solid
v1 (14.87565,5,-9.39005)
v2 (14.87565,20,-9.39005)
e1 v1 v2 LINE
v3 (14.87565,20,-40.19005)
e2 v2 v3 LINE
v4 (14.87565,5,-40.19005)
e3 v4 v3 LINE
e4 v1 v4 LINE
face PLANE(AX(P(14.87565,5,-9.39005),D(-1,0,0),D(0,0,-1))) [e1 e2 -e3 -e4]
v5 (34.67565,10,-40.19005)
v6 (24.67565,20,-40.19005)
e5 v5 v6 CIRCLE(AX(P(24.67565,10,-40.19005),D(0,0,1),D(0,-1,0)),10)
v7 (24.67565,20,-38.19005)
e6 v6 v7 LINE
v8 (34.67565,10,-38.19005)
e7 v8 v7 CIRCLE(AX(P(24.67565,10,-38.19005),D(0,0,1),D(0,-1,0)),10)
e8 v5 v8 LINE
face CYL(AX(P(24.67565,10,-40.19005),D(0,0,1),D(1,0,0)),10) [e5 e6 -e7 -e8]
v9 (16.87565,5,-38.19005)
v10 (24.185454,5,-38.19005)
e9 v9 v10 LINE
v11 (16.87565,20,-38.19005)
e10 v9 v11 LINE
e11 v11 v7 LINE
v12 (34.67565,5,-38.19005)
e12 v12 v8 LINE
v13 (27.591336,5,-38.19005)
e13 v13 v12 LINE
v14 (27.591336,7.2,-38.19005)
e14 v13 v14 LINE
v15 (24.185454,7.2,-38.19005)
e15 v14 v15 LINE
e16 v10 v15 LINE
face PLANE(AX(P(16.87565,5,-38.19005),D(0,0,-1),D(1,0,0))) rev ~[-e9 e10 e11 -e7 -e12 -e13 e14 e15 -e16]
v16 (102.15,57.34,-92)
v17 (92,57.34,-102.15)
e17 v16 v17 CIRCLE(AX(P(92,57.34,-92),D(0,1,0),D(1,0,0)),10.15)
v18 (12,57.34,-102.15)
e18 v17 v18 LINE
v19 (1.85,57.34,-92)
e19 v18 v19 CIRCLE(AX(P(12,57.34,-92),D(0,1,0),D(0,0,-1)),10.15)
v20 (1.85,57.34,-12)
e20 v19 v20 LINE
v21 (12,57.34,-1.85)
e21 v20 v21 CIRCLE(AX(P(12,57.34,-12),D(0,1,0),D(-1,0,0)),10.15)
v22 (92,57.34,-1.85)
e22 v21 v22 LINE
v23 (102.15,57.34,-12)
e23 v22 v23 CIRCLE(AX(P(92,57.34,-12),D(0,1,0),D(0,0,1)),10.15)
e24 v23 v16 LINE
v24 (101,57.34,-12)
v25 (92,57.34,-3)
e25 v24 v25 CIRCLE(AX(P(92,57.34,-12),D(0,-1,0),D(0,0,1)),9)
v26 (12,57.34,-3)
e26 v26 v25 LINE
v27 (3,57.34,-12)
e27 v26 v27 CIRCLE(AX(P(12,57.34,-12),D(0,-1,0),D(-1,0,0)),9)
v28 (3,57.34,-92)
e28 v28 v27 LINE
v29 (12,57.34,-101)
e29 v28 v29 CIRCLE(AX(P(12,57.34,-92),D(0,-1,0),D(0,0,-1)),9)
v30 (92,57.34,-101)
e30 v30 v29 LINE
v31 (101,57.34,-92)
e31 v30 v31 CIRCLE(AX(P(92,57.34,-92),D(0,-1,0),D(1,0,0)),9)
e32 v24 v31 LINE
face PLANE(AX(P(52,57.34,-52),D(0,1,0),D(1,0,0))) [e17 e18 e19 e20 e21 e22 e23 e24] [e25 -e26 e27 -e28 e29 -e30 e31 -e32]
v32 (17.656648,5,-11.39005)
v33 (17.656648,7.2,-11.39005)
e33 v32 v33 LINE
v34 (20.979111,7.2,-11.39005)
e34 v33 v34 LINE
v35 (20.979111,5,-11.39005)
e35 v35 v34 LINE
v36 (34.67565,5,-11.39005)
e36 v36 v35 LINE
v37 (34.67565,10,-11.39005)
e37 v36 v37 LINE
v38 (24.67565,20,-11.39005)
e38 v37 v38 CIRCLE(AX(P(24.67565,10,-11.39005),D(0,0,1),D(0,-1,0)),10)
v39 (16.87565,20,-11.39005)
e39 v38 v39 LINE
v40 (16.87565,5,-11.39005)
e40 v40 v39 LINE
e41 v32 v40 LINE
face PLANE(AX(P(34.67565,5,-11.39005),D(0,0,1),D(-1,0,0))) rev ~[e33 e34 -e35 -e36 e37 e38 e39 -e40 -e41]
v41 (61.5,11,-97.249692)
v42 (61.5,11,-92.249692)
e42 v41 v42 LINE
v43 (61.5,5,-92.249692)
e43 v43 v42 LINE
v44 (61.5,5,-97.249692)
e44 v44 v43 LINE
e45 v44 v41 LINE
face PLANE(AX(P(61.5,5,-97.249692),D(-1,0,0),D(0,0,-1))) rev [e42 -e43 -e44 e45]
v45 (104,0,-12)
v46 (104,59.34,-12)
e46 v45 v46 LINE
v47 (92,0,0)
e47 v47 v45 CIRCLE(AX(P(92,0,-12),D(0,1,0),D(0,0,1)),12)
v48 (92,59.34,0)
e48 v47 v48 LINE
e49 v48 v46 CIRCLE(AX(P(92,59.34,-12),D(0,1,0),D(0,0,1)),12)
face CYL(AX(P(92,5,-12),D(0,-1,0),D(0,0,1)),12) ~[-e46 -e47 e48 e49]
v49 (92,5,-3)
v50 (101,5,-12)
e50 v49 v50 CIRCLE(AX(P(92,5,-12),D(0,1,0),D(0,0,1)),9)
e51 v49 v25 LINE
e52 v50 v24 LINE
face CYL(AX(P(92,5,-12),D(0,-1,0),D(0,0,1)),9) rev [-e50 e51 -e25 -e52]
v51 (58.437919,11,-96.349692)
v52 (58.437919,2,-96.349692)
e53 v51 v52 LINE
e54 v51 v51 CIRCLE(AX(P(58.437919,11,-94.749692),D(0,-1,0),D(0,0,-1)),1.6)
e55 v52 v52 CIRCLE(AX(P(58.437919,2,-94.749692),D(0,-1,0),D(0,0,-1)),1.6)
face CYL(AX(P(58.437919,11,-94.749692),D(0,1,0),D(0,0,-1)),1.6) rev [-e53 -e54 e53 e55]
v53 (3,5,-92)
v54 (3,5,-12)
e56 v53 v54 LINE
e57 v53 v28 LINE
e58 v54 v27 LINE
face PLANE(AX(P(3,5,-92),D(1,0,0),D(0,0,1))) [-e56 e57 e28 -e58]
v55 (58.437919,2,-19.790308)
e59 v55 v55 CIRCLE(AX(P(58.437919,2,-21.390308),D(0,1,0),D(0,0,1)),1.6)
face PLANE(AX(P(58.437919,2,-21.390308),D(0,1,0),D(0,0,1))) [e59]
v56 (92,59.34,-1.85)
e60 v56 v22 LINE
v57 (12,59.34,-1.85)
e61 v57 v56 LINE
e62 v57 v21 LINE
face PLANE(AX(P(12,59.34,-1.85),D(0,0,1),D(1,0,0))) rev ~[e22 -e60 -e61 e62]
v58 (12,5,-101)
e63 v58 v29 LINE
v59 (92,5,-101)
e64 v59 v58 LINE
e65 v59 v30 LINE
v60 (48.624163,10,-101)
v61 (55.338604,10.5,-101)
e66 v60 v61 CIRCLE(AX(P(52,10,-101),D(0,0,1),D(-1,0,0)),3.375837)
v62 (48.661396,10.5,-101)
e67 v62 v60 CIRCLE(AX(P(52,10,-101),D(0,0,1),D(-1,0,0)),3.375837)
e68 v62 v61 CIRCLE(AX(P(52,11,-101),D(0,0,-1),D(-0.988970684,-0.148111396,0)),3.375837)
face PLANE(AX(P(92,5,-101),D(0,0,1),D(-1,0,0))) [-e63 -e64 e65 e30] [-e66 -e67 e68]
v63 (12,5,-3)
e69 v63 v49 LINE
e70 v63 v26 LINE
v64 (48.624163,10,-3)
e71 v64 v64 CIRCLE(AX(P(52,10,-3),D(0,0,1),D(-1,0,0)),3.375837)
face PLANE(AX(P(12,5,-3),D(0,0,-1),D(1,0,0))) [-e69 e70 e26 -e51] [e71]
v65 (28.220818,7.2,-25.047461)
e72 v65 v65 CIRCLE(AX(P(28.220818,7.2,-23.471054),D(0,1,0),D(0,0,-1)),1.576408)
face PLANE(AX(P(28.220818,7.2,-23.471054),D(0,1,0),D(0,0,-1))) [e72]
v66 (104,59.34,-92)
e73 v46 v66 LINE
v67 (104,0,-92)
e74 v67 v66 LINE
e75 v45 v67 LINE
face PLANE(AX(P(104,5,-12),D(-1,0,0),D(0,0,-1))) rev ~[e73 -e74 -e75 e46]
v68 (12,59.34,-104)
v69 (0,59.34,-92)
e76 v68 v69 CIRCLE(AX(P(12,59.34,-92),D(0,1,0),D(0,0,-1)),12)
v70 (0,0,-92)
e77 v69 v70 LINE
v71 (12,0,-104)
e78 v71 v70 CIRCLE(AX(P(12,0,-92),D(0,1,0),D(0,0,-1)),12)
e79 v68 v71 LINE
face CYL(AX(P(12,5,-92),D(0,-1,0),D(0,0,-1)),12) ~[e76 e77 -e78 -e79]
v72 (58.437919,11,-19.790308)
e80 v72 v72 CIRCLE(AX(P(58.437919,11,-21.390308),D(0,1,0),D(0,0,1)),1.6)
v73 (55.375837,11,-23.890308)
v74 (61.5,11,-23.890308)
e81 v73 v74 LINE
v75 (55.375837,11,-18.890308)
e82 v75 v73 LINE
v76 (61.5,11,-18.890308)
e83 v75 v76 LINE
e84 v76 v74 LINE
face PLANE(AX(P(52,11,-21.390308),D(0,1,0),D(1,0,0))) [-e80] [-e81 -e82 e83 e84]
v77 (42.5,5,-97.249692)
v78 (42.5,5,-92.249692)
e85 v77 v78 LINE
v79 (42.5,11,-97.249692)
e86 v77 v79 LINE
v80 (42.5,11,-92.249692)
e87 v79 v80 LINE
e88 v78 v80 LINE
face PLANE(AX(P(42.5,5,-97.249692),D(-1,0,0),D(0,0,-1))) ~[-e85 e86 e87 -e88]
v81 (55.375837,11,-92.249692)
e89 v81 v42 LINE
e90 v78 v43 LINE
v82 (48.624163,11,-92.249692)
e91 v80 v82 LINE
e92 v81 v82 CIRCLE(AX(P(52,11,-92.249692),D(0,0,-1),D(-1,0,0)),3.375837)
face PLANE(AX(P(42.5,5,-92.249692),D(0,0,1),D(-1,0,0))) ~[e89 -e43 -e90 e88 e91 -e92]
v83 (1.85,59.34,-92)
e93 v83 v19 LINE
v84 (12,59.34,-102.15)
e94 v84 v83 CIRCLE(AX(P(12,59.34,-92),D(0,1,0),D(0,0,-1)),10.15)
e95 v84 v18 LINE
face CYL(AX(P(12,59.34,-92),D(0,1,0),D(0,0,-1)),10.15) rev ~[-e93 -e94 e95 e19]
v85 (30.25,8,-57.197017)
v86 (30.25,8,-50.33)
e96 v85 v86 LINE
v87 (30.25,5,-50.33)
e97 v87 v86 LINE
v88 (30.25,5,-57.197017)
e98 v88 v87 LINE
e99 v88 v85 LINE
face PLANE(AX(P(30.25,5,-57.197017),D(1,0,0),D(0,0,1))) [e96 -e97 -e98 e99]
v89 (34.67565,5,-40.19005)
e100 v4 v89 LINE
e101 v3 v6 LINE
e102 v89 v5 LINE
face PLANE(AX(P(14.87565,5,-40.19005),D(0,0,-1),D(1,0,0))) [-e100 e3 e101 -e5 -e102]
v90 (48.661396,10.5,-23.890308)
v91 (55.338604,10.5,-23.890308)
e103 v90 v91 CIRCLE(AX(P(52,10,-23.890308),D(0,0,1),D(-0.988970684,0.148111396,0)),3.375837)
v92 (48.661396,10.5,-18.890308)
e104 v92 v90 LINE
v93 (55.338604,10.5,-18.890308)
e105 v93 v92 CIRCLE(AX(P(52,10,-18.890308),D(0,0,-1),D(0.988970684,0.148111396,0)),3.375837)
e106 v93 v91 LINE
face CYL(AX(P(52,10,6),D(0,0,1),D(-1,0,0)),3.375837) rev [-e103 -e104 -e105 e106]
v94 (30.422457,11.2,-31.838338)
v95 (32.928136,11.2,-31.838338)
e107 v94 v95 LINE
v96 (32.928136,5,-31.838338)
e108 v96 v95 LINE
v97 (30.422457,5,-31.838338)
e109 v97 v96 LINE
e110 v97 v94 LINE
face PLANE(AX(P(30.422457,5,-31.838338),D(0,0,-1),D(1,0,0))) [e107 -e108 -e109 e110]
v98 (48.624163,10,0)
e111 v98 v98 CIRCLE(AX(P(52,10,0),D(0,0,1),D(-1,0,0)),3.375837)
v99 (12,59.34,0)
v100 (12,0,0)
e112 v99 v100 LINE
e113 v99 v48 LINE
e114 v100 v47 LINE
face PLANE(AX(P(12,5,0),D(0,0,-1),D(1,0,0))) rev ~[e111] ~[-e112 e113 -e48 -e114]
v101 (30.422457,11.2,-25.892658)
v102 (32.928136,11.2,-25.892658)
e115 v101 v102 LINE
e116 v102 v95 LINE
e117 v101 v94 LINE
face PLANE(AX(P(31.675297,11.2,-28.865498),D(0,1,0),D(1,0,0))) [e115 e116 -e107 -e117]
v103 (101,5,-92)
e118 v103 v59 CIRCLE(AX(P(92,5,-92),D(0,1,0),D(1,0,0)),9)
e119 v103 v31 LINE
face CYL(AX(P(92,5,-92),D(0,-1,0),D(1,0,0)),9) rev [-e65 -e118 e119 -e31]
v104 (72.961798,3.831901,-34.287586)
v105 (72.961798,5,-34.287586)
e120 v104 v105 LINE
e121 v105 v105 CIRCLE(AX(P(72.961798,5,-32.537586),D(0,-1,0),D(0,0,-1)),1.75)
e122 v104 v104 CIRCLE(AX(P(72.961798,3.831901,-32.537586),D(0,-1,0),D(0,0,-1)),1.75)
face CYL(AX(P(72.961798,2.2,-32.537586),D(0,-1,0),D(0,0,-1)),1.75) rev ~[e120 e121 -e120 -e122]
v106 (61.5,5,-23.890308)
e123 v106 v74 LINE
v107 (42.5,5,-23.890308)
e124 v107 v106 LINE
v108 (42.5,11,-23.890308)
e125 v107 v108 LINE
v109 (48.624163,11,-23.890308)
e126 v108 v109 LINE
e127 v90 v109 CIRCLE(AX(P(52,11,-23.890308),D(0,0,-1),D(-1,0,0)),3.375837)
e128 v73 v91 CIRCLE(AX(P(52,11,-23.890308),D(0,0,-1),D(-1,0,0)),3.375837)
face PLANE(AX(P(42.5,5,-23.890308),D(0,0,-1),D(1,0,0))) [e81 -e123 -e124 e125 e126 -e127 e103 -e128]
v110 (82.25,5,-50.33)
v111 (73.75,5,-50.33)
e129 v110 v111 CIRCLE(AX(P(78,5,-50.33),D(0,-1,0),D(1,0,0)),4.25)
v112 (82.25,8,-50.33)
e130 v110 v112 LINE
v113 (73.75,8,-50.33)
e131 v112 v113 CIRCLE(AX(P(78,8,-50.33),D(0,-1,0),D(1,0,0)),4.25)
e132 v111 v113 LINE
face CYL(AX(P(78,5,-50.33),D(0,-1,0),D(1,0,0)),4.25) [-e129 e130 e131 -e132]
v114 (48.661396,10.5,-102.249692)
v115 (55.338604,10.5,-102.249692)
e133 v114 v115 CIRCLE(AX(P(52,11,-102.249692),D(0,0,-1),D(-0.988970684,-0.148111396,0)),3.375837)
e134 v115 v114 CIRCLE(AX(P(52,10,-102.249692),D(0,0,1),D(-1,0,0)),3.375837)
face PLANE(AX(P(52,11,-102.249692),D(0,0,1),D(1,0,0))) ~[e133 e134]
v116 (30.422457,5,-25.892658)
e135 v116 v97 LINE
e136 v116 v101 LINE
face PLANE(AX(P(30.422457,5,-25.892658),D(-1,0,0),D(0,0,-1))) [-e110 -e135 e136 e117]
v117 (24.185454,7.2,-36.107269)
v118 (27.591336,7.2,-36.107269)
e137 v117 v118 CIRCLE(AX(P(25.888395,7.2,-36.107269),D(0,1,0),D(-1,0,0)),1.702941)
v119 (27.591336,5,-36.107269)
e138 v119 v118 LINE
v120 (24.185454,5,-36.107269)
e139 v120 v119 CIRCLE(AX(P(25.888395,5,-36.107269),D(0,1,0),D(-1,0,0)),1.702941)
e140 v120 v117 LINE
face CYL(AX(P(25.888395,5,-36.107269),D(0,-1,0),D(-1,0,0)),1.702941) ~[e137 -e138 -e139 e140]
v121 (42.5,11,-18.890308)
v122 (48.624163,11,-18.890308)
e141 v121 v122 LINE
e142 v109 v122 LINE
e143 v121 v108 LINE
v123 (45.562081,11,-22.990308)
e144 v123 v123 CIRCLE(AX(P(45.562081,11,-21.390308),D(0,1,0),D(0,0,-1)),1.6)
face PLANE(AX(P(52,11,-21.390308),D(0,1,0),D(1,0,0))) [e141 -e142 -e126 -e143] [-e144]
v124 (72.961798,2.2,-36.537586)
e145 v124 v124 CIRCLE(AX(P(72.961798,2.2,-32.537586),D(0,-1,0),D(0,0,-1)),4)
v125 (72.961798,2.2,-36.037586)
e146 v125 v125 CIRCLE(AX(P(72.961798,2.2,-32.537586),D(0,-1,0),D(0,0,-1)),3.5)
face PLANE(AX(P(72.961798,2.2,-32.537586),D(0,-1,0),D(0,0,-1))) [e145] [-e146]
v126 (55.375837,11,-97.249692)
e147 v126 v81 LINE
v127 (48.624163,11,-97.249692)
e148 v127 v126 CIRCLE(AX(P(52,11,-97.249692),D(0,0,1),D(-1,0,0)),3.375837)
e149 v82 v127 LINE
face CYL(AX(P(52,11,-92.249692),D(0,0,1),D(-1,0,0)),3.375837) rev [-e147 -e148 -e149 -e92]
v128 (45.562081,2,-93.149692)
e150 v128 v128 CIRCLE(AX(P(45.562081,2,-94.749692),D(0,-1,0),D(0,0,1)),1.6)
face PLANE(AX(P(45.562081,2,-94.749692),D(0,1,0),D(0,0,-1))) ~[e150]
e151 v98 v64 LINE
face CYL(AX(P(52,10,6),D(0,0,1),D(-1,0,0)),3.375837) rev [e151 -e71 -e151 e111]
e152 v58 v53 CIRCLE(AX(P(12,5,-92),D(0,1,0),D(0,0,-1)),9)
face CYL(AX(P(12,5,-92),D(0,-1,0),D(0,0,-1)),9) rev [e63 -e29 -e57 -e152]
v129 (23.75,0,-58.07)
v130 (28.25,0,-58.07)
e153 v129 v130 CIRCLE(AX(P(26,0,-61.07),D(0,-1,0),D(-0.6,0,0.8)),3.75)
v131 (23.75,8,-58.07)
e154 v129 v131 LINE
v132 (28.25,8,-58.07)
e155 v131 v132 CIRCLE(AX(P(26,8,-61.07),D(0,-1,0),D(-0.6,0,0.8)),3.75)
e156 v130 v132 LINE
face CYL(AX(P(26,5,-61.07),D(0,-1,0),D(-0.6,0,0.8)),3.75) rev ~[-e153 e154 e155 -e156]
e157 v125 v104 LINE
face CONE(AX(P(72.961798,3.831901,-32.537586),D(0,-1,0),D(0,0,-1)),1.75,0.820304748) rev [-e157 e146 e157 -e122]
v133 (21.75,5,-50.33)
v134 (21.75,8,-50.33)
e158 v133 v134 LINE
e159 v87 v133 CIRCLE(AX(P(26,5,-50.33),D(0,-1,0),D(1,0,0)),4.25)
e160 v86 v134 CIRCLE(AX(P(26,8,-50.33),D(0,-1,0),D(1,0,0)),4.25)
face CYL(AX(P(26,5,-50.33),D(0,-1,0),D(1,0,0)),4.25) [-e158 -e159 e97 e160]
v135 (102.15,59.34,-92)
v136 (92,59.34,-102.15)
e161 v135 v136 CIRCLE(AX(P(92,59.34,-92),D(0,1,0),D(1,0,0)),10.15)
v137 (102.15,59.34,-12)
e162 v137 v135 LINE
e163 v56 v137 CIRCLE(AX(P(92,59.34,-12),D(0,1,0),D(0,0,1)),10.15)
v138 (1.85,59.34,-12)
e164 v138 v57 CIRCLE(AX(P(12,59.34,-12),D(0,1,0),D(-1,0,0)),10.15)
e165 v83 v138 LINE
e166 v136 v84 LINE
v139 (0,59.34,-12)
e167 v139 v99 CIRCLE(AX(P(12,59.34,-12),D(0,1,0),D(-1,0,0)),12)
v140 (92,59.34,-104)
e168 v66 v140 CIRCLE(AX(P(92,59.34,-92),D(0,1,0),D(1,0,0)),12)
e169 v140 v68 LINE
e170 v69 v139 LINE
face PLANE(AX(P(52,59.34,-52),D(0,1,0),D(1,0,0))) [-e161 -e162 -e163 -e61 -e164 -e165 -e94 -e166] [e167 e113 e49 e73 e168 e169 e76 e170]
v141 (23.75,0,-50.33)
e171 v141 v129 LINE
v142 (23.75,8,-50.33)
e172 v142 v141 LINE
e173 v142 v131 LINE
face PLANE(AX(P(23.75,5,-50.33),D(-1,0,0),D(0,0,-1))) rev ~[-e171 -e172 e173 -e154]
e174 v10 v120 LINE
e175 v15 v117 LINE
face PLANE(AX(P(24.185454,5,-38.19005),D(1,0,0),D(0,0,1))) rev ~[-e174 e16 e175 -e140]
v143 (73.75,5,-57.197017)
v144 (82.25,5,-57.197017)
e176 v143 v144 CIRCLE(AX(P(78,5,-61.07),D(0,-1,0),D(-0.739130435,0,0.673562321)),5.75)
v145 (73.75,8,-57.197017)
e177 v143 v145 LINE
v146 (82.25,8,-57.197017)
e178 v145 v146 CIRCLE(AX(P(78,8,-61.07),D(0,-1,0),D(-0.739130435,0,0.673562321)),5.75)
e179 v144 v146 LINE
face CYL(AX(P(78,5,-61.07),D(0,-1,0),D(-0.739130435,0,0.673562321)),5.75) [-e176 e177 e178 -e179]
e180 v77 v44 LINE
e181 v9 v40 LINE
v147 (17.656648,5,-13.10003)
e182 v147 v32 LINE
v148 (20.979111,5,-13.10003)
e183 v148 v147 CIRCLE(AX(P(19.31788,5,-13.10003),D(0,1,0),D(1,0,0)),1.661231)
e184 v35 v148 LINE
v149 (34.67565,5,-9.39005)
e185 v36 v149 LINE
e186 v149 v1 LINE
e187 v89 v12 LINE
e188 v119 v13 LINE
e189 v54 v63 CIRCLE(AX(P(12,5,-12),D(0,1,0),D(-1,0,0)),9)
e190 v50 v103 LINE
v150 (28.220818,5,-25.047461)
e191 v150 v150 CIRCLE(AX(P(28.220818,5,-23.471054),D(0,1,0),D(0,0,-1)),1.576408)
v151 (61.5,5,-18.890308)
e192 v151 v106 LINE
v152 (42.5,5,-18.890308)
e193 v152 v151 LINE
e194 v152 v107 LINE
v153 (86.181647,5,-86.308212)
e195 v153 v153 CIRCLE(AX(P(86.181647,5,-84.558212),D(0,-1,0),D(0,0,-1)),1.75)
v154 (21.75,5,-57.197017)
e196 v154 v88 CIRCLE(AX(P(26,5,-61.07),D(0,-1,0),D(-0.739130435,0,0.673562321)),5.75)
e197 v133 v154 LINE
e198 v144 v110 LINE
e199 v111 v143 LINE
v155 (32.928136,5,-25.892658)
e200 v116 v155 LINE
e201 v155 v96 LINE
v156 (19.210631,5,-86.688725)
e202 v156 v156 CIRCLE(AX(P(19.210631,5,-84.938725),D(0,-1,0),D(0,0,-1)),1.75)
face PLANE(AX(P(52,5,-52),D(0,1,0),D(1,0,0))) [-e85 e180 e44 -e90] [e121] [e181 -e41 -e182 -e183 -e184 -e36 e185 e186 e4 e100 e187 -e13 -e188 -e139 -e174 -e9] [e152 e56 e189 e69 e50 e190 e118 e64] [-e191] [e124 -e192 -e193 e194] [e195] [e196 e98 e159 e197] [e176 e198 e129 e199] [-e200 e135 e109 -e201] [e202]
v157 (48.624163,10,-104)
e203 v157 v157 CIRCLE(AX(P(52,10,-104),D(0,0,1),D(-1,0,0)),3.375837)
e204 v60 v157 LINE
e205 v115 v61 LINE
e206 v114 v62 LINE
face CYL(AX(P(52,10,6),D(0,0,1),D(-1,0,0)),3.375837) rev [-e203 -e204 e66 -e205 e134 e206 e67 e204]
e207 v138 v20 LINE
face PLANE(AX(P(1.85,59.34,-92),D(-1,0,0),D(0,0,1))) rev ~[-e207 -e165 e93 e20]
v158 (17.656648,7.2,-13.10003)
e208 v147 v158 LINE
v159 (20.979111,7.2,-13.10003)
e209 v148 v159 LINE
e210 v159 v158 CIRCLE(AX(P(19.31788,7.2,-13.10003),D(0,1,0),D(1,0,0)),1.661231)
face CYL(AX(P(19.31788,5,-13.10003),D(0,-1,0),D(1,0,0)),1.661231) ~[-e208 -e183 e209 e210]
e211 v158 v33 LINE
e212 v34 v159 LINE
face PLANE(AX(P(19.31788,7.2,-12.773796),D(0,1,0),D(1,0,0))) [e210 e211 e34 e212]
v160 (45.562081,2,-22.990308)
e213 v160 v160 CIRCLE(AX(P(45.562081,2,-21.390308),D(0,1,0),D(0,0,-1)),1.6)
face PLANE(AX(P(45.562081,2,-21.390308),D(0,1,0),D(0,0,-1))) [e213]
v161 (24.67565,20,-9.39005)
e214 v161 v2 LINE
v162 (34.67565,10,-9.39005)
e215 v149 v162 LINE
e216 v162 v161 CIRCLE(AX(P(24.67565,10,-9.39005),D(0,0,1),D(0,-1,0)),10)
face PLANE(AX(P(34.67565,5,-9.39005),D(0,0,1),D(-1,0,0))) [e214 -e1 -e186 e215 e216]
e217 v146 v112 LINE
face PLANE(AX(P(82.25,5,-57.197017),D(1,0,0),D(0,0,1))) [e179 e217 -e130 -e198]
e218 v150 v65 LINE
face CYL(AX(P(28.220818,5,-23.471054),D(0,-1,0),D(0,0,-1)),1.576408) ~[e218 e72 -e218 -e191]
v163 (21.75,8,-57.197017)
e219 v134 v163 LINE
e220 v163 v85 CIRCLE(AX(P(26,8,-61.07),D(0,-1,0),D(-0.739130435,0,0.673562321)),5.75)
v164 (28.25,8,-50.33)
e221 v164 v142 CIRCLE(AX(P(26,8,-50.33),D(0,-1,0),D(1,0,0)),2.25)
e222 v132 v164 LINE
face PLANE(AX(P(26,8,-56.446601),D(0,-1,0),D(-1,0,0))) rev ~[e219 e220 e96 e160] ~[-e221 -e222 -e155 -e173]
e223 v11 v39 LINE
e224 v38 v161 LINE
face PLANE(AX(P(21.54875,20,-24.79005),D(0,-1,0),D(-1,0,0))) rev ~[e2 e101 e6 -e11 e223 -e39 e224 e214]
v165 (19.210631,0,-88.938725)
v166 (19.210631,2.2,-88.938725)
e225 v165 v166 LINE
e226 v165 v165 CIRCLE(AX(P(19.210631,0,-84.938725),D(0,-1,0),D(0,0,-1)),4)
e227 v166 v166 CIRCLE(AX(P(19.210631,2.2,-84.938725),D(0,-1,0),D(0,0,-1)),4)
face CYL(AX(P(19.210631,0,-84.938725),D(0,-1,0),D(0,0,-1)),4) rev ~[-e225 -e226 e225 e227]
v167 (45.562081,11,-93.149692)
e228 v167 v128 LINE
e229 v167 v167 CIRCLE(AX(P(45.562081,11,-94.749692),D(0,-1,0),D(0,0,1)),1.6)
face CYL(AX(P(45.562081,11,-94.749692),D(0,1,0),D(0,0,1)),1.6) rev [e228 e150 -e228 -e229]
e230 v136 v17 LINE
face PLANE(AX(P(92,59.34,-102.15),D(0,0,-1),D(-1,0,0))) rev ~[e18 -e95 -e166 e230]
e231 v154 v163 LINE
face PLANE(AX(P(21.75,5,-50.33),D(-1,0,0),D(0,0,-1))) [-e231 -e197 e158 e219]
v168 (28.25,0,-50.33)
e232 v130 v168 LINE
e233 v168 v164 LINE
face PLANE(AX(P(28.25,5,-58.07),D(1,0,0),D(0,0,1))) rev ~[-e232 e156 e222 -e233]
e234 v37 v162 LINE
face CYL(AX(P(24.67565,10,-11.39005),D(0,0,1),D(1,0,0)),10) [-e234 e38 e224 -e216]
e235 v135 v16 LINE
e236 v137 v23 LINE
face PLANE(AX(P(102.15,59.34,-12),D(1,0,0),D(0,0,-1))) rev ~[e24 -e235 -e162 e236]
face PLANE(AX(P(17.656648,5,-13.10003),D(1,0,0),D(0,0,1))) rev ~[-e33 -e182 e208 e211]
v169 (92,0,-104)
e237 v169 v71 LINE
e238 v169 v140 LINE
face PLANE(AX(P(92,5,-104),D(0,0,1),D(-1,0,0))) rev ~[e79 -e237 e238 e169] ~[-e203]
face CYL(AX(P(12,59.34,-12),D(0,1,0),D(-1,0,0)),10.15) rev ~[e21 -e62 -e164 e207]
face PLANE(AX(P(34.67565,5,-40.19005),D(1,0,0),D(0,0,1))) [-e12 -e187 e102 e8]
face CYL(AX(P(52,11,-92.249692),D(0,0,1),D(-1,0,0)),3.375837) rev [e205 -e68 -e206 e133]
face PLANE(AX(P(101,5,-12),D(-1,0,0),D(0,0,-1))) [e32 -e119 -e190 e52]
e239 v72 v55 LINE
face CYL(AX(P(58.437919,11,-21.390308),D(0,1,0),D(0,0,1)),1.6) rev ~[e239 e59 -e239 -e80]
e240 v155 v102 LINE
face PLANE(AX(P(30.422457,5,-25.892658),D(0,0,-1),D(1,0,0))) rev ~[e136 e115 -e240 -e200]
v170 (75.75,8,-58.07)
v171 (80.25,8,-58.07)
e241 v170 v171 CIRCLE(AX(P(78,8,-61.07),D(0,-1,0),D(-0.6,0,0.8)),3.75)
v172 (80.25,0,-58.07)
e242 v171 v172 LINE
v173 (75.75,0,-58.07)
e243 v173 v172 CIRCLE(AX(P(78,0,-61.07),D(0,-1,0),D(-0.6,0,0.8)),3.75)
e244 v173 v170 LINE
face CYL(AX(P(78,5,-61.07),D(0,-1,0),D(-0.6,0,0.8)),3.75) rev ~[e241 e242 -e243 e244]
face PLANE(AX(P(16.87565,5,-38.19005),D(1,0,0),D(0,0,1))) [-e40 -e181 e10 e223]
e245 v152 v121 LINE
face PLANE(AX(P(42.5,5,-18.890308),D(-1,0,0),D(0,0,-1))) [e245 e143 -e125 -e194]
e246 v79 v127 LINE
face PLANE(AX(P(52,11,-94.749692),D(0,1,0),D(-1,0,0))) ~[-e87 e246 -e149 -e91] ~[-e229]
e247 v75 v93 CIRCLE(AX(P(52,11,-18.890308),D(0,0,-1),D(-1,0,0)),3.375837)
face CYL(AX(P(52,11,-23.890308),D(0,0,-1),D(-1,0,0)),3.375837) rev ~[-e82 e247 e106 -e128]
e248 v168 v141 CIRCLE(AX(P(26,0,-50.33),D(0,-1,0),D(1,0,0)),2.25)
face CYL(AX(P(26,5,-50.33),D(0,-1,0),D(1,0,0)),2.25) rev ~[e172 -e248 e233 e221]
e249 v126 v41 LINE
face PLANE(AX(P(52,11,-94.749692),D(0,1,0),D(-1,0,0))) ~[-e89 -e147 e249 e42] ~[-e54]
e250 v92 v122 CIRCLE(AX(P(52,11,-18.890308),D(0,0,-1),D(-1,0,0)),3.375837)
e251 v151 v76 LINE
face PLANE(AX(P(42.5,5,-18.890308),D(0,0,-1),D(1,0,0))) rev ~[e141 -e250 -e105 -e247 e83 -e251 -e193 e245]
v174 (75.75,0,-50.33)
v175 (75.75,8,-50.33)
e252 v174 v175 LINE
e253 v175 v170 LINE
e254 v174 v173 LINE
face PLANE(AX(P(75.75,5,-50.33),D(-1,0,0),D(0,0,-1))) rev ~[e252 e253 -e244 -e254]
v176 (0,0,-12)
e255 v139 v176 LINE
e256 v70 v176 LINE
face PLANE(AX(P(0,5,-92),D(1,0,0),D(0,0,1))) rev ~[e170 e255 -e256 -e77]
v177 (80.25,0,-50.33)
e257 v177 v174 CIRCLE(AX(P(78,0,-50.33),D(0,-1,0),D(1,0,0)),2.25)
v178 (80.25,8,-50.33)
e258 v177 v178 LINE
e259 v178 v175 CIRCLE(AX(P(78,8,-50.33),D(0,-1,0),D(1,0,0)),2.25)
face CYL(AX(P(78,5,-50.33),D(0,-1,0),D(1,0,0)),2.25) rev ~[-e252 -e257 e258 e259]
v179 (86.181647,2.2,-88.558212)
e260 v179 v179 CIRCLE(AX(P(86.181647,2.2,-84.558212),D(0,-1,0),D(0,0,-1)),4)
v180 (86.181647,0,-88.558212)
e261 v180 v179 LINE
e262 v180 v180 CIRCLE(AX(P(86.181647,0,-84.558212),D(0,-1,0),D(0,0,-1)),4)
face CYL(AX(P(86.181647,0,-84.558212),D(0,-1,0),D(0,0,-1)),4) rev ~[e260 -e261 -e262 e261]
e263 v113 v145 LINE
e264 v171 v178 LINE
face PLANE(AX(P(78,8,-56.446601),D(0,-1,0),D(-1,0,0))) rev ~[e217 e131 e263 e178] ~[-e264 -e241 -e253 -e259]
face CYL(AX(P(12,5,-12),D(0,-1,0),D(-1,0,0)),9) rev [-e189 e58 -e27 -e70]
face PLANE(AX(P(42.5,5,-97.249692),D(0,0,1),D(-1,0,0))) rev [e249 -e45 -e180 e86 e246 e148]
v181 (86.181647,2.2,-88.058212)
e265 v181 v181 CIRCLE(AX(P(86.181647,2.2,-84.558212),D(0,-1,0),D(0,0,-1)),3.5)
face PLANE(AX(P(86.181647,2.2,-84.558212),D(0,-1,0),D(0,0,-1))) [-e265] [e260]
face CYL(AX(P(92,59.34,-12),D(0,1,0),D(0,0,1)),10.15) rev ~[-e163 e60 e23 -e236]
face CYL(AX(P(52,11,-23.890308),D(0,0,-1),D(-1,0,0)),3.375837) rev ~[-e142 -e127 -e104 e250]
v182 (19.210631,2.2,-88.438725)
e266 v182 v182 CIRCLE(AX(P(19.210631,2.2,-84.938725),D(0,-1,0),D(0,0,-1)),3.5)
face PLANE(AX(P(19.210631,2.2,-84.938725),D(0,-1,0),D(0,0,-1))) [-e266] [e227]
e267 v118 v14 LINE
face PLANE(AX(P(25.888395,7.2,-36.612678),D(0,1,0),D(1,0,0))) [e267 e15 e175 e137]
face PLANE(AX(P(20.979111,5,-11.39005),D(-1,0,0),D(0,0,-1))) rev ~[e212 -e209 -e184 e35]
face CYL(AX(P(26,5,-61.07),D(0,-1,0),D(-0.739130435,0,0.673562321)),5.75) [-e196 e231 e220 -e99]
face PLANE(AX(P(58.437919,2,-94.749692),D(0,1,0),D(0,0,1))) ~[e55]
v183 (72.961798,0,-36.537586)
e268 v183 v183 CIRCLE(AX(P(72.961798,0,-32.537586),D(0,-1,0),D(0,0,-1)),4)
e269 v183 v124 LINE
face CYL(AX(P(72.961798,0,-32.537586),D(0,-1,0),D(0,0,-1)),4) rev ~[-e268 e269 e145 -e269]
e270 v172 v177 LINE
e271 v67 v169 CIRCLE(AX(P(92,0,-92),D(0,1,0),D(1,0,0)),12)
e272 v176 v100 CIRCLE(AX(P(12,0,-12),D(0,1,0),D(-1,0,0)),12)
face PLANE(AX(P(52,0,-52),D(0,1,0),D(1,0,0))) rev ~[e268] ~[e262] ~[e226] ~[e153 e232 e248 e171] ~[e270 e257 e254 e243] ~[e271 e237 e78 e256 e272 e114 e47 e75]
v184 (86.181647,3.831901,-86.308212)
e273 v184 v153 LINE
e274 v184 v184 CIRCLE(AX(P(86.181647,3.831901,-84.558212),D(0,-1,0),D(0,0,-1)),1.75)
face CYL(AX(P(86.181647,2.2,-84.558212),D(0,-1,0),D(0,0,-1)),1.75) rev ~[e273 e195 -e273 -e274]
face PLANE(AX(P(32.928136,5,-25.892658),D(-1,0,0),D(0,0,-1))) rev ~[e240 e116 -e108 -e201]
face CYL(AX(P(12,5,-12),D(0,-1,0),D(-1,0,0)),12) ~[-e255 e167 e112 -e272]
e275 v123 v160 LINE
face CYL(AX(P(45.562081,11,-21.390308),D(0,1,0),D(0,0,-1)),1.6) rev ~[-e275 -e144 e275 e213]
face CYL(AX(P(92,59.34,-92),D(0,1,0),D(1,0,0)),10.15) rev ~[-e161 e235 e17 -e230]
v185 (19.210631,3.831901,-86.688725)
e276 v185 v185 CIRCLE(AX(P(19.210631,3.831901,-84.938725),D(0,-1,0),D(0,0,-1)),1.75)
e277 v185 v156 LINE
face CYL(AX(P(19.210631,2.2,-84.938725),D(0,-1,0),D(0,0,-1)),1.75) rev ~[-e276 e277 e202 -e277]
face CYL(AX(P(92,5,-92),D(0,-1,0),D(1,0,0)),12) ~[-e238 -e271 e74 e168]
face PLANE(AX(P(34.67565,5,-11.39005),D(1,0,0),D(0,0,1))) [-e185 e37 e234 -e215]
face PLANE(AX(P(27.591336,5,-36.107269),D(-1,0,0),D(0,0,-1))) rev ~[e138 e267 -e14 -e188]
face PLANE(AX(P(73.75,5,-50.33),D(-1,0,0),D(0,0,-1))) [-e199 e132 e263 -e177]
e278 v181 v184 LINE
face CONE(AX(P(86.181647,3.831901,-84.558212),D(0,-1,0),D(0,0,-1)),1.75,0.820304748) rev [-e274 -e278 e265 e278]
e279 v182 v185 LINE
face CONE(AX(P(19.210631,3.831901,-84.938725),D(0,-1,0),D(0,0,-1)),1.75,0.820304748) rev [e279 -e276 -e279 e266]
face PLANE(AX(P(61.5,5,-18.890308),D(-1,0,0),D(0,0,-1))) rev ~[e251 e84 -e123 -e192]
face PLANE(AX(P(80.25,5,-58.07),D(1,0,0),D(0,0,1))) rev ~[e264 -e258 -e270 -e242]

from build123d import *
from OCP.BRepFilletAPI import BRepFilletAPI_MakeChamfer

# Parameters (mm, degrees)
SALIENTE_EXTRUIR1_DEPTH    = 5
SALIENTE_EXTRUIR2_DEPTH    = 54.34
CORTAR_EXTRUIR1_DEPTH      = 2
CORTAR_EXTRUIR2_DEPTH      = 17
SALIENTE_EXTRUIR3_DEPTH    = 3
SALIENTE_EXTRUIR4_DEPTH    = 15
CROQUIS8_W                 = 19
CROQUIS8_H                 = 5
SALIENTE_EXTRUIR5_DEPTH    = 6
CROQUIS10_R                = 3.375837474
CORTAR_EXTRUIR3_DEPTH      = 10
CROQUIS11_R                = 1.6
CORTAR_EXTRUIR4_DEPTH      = 9
CORTAR_EXTRUIR5_DEPTH      = 138
CORTAR_EXTRUIR5_DEPTH_BACK = 9
CROQUIS12_R                = 3.375837474
CROQUIS13_R                = 4
CORTAR_EXTRUIR6_DEPTH      = 2.2
CROQUIS14_R                = 1.75
CORTAR_EXTRUIR7_DEPTH      = 18.2
CHAFL_N1_SIZE              = 1.75
CHAFL_N1_SIZE2             = 1.631901401
CROQUIS15_W                = 2.505679427
CROQUIS15_H                = 5.945679997
SALIENTE_EXTRUIR6_DEPTH    = 6.2
CROQUIS16_R                = 1.576407793
SALIENTE_EXTRUIR7_DEPTH    = 2.2
REDONDEO1_R                = 10


with BuildPart() as part:
    # Croquis1 → Saliente-Extruir1 (new body)
    with BuildSketch(Plane(origin=(0, 0, 0), x_dir=(1, 0, 0), z_dir=(0, 1, 0))):
        with BuildLine():
            Line((12, 0), (92, 0))
            ThreePointArc((92, 0), (100.485281374, 3.514718626), (104, 12))
            Line((104, 12), (104, 92))
            ThreePointArc((104, 92), (100.485281374, 100.485281374), (92, 104))
            Line((92, 104), (12, 104))
            ThreePointArc((12, 104), (3.514718626, 100.485281374), (0, 92))
            Line((0, 92), (0, 12))
            ThreePointArc((0, 12), (3.514718626, 3.514718626), (12, 0))
        make_face()
    extrude(amount=SALIENTE_EXTRUIR1_DEPTH)

    # Croquis2 → Saliente-Extruir2 (add)
    with BuildSketch(Plane(origin=(0, 5, 0), x_dir=(1, 0, 0), z_dir=(0, 1, 0))):
        with BuildLine():
            Line((12, 0), (92, 0))
            ThreePointArc((92, 0), (100.485281374, 3.514718626), (104, 12))
            Line((104, 12), (104, 92))
            ThreePointArc((104, 92), (100.485281374, 100.485281374), (92, 104))
            Line((92, 104), (12, 104))
            ThreePointArc((12, 104), (3.514718626, 100.485281374), (0, 92))
            Line((0, 92), (0, 12))
            ThreePointArc((0, 12), (3.514718626, 3.514718626), (12, 0))
        make_face()
        with BuildLine():
            Line((12, 3), (92, 3))
            ThreePointArc((92, 3), (98.363961031, 5.636038969), (101, 12))
            Line((101, 12), (101, 92))
            ThreePointArc((101, 92), (98.363961031, 98.363961031), (92, 101))
            Line((92, 101), (12, 101))
            ThreePointArc((12, 101), (5.636038969, 98.363961031), (3, 92))
            Line((3, 92), (3, 12))
            ThreePointArc((3, 12), (5.636038969, 5.636038969), (12, 3))
        make_face(mode=Mode.SUBTRACT)
    extrude(amount=SALIENTE_EXTRUIR2_DEPTH)

    # Croquis3 → Cortar-Extruir1 (cut)
    with BuildSketch(Plane(origin=(0, 59.34, 0), x_dir=(1, 0, 0), z_dir=(0, 1, 0))):
        with BuildLine():
            Line((12, 1.85), (92, 1.85))
            ThreePointArc((92, 1.85), (99.177133829, 4.822866171), (102.15, 12))
            Line((102.15, 12), (102.15, 92))
            ThreePointArc((102.15, 92), (99.177133829, 99.177133829), (92, 102.15))
            Line((92, 102.15), (12, 102.15))
            ThreePointArc((12, 102.15), (4.822866171, 99.177133829), (1.85, 92))
            Line((1.85, 92), (1.85, 12))
            ThreePointArc((1.85, 12), (4.822866171, 4.822866171), (12, 1.85))
        make_face()
    extrude(amount=-CORTAR_EXTRUIR1_DEPTH, mode=Mode.SUBTRACT)

    # Croquis4 → Cortar-Extruir2 (cut)
    with BuildSketch(Plane.XZ):
        with BuildLine():
            Line((23.75, -50.33), (23.75, -58.07))
            ThreePointArc((23.75, -58.07), (26, -64.82), (28.25, -58.07))
            Line((28.25, -58.07), (28.25, -50.33))
            ThreePointArc((28.25, -50.33), (26, -48.08), (23.75, -50.33))
        make_face()
        with BuildLine():
            Line((75.75, -50.33), (75.75, -58.07))
            ThreePointArc((75.75, -58.07), (78, -64.82), (80.25, -58.07))
            Line((80.25, -58.07), (80.25, -50.33))
            ThreePointArc((80.25, -50.33), (78, -48.08), (75.75, -50.33))
        make_face()
    extrude(amount=-CORTAR_EXTRUIR2_DEPTH, mode=Mode.SUBTRACT)

    # Croquis5 → Saliente-Extruir3 (add)
    # profile 1 of 2: a face of its own
    with BuildSketch(Plane(origin=(0, 5, 0), x_dir=(1, 0, 0), z_dir=(0, 1, 0))):
        with BuildLine():
            Line((73.75, 50.33), (73.75, 57.197016654))
            ThreePointArc((73.75, 57.197016654), (78, 66.82), (82.25, 57.197016654))
            Line((82.25, 57.197016654), (82.25, 50.33))
            ThreePointArc((82.25, 50.33), (78, 46.08), (73.75, 50.33))
        make_face()
        with BuildLine():
            Line((80.25, 58.07), (80.25, 50.33))
            ThreePointArc((80.25, 50.33), (78, 48.08), (75.75, 50.33))
            Line((75.75, 50.33), (75.75, 58.07))
            ThreePointArc((75.75, 58.07), (78, 64.82), (80.25, 58.07))
        make_face(mode=Mode.SUBTRACT)
    # profile 2 of 2: a face of its own
    with BuildSketch(Plane(origin=(0, 5, 0), x_dir=(1, 0, 0), z_dir=(0, 1, 0))):
        with BuildLine():
            Line((21.75, 50.33), (21.75, 57.197016654))
            ThreePointArc((21.75, 57.197016654), (26, 66.82), (30.25, 57.197016654))
            Line((30.25, 57.197016654), (30.25, 50.33))
            ThreePointArc((30.25, 50.33), (26, 46.08), (21.75, 50.33))
        make_face()
        with BuildLine():
            Line((23.75, 50.33), (23.75, 58.07))
            ThreePointArc((23.75, 58.07), (26, 64.82), (28.25, 58.07))
            Line((28.25, 58.07), (28.25, 50.33))
            ThreePointArc((28.25, 50.33), (26, 48.08), (23.75, 50.33))
        make_face(mode=Mode.SUBTRACT)
    extrude(amount=SALIENTE_EXTRUIR3_DEPTH)

    # Croquis6 → Saliente-Extruir4 (add)
    with BuildSketch(Plane(origin=(0, 5, 0), x_dir=(1, 0, 0), z_dir=(0, 1, 0))):
        Polygon((14.875650125, 40.19005009), (34.675650125, 40.19005009), (34.675650125, 38.19005009), (32.675650125, 38.19005009), (16.875650125, 38.19005009), (16.875650125, 11.39005009), (32.675650125, 11.39005009), (34.675650125, 11.39005009), (34.675650125, 9.39005009), (14.875650125, 9.39005009), align=None)
    extrude(amount=SALIENTE_EXTRUIR4_DEPTH)

    # Croquis8 → Saliente-Extruir5 (add)
    with BuildSketch(Plane(origin=(0, 5, 0), x_dir=(1, 0, 0), z_dir=(0, 1, 0))):
        with Locations((52, 21.390307978)):
            Rectangle(CROQUIS8_W, CROQUIS8_H)
    saliente_extruir5 = extrude(amount=SALIENTE_EXTRUIR5_DEPTH)

    # Croquis10 → Cortar-Extruir3 (cut)
    with BuildSketch(Plane(origin=(0, 0, -23.890307978), x_dir=(-1, 0, 0), z_dir=(0, 0, -1))):
        with Locations((-52, 11)):
            Circle(CROQUIS10_R)
    cortar_extruir3 = extrude(amount=-CORTAR_EXTRUIR3_DEPTH, mode=Mode.SUBTRACT)

    # Croquis11 → Cortar-Extruir4 (cut)
    with BuildSketch(Plane(origin=(0, 11, 0), x_dir=(1, 0, 0), z_dir=(0, 1, 0))):
        with Locations(Location((58.437918737, 21.390307978, 0), (0, 0, 270))):
            Circle(CROQUIS11_R)
        with Locations(Location((45.562081263, 21.390307978, 0), (0, 0, 90))):
            Circle(CROQUIS11_R)
    cortar_extruir4 = extrude(amount=-CORTAR_EXTRUIR4_DEPTH, mode=Mode.SUBTRACT)

    # Croquis12 → Cortar-Extruir5 (cut, two sides: drawn at the far end of the back side and taken through both)
    with BuildSketch(Plane(origin=(0, 0, -3), x_dir=(-1, 0, 0), z_dir=(0, 0, -1)).offset(-CORTAR_EXTRUIR5_DEPTH_BACK)):
        with Locations((-52, 10)):
            Circle(CROQUIS12_R)
    extrude(amount=CORTAR_EXTRUIR5_DEPTH + CORTAR_EXTRUIR5_DEPTH_BACK, mode=Mode.SUBTRACT)

    # Simetría1: Saliente-Extruir5, Cortar-Extruir3, Cortar-Extruir4 across plane
    add(saliente_extruir5.mirror(Plane(origin=(0, 0, -58.07), x_dir=(1, 0, 0), z_dir=(0, 0, -1))))
    add(cortar_extruir3.mirror(Plane(origin=(0, 0, -58.07), x_dir=(1, 0, 0), z_dir=(0, 0, -1))), mode=Mode.SUBTRACT)
    add(cortar_extruir4.mirror(Plane(origin=(0, 0, -58.07), x_dir=(1, 0, 0), z_dir=(0, 0, -1))), mode=Mode.SUBTRACT)

    # Croquis13 → Cortar-Extruir6 (cut)
    with BuildSketch(Plane.XZ):
        with Locations(Location((72.961798257, -32.537586192, 0), (0, 0, 270))):
            Circle(CROQUIS13_R)
        with Locations(Location((86.181647316, -84.558212342, 0), (0, 0, 270))):
            Circle(CROQUIS13_R)
        with Locations(Location((19.210631353, -84.938725209, 0), (0, 0, 270))):
            Circle(CROQUIS13_R)
    extrude(amount=-CORTAR_EXTRUIR6_DEPTH, mode=Mode.SUBTRACT)

    # Croquis14 → Cortar-Extruir7 (cut)
    with BuildSketch(Plane.XZ.offset(-2.2)):
        with Locations(Location((72.961798257, -32.537586192, 0), (0, 0, 270))):
            Circle(CROQUIS14_R)
        with Locations(Location((86.181647316, -84.558212342, 0), (0, 0, 270))):
            Circle(CROQUIS14_R)
        with Locations(Location((19.210631353, -84.938725209, 0), (0, 0, 270))):
            Circle(CROQUIS14_R)
    extrude(amount=-CORTAR_EXTRUIR7_DEPTH, mode=Mode.SUBTRACT)

    # Chaflán1: one chamfer whose edges measure the first distance from different faces: ONE call of the kernel's chamfer builder (chamfer() names one face for all edges)
    chafl_n1_edges_1 = [part.edges().sort_by_distance(p)[0] for p in [
        (72.961798257, 2.2, -30.787586192),
    ]]
    chafl_n1_side_1 = [part.faces().sort_by_distance(p)[0] for p in [
        (72.961798257, 2.2, -28.650723277),
    ]]
    chafl_n1_edges_2 = [part.edges().sort_by_distance(p)[0] for p in [
        (86.181647316, 2.2, -82.808212342),
    ]]
    chafl_n1_side_2 = [part.faces().sort_by_distance(p)[0] for p in [
        (86.181647316, 2.2, -80.671349427),
    ]]
    chafl_n1_edges_3 = [part.edges().sort_by_distance(p)[0] for p in [
        (19.210631353, 2.2, -83.188725209),
    ]]
    chafl_n1_side_3 = [part.faces().sort_by_distance(p)[0] for p in [
        (19.210631353, 2.2, -81.051862294),
    ]]
    chafl_n1 = BRepFilletAPI_MakeChamfer(part.part.solid().wrapped)
    for e in chafl_n1_edges_1:
        chafl_n1.Add(CHAFL_N1_SIZE, CHAFL_N1_SIZE2, e.wrapped, chafl_n1_side_1[0].wrapped)  # the first distance lies on this face
    for e in chafl_n1_edges_2:
        chafl_n1.Add(CHAFL_N1_SIZE, CHAFL_N1_SIZE2, e.wrapped, chafl_n1_side_2[0].wrapped)  # the first distance lies on this face
    for e in chafl_n1_edges_3:
        chafl_n1.Add(CHAFL_N1_SIZE, CHAFL_N1_SIZE2, e.wrapped, chafl_n1_side_3[0].wrapped)  # the first distance lies on this face
    add(Compound.cast(chafl_n1.Shape()), mode=Mode.REPLACE)

    # Croquis15 → Saliente-Extruir6 (add)
    with BuildSketch(Plane(origin=(0, 5, 0), x_dir=(1, 0, 0), z_dir=(0, 1, 0))):
        with Locations((31.675296524, 28.865498451)):
            Rectangle(CROQUIS15_W, CROQUIS15_H)
    extrude(amount=SALIENTE_EXTRUIR6_DEPTH)

    # Croquis16 → Saliente-Extruir7 (add)
    with BuildSketch(Plane(origin=(0, 5, 0), x_dir=(1, 0, 0), z_dir=(0, 1, 0))):
        with BuildLine():
            ThreePointArc((20.979111053, 13.100030069), (19.317879756, 14.761261366), (17.656648458, 13.100030069))
            Line((17.656648458, 13.100030069), (17.656648458, 11.39005009))
            Line((17.656648458, 11.39005009), (20.979111053, 11.39005009))
            Line((20.979111053, 11.39005009), (20.979111053, 13.100030069))
        make_face()
        with Locations(Location((28.220818392, 23.4710535, 0), (0, 0, 90))):
            Circle(CROQUIS16_R)
        with BuildLine():
            Line((24.185453679, 38.19005009), (24.185453679, 36.107269041))
            ThreePointArc((24.185453679, 36.107269041), (25.888394883, 34.404327838), (27.591336086, 36.107269041))
            Line((27.591336086, 36.107269041), (27.591336086, 38.19005009))
            Line((27.591336086, 38.19005009), (24.185453679, 38.19005009))
        make_face()
    extrude(amount=SALIENTE_EXTRUIR7_DEPTH)

    # Redondeo1
    redondeo1_edges = [part.edges().sort_by_distance(p)[0] for p in [
        (34.675650125, 20, -39.19005009),
        (34.675650125, 20, -10.39005009),
    ]]
    fillet(redondeo1_edges, radius=REDONDEO1_R)


solid = part.part
